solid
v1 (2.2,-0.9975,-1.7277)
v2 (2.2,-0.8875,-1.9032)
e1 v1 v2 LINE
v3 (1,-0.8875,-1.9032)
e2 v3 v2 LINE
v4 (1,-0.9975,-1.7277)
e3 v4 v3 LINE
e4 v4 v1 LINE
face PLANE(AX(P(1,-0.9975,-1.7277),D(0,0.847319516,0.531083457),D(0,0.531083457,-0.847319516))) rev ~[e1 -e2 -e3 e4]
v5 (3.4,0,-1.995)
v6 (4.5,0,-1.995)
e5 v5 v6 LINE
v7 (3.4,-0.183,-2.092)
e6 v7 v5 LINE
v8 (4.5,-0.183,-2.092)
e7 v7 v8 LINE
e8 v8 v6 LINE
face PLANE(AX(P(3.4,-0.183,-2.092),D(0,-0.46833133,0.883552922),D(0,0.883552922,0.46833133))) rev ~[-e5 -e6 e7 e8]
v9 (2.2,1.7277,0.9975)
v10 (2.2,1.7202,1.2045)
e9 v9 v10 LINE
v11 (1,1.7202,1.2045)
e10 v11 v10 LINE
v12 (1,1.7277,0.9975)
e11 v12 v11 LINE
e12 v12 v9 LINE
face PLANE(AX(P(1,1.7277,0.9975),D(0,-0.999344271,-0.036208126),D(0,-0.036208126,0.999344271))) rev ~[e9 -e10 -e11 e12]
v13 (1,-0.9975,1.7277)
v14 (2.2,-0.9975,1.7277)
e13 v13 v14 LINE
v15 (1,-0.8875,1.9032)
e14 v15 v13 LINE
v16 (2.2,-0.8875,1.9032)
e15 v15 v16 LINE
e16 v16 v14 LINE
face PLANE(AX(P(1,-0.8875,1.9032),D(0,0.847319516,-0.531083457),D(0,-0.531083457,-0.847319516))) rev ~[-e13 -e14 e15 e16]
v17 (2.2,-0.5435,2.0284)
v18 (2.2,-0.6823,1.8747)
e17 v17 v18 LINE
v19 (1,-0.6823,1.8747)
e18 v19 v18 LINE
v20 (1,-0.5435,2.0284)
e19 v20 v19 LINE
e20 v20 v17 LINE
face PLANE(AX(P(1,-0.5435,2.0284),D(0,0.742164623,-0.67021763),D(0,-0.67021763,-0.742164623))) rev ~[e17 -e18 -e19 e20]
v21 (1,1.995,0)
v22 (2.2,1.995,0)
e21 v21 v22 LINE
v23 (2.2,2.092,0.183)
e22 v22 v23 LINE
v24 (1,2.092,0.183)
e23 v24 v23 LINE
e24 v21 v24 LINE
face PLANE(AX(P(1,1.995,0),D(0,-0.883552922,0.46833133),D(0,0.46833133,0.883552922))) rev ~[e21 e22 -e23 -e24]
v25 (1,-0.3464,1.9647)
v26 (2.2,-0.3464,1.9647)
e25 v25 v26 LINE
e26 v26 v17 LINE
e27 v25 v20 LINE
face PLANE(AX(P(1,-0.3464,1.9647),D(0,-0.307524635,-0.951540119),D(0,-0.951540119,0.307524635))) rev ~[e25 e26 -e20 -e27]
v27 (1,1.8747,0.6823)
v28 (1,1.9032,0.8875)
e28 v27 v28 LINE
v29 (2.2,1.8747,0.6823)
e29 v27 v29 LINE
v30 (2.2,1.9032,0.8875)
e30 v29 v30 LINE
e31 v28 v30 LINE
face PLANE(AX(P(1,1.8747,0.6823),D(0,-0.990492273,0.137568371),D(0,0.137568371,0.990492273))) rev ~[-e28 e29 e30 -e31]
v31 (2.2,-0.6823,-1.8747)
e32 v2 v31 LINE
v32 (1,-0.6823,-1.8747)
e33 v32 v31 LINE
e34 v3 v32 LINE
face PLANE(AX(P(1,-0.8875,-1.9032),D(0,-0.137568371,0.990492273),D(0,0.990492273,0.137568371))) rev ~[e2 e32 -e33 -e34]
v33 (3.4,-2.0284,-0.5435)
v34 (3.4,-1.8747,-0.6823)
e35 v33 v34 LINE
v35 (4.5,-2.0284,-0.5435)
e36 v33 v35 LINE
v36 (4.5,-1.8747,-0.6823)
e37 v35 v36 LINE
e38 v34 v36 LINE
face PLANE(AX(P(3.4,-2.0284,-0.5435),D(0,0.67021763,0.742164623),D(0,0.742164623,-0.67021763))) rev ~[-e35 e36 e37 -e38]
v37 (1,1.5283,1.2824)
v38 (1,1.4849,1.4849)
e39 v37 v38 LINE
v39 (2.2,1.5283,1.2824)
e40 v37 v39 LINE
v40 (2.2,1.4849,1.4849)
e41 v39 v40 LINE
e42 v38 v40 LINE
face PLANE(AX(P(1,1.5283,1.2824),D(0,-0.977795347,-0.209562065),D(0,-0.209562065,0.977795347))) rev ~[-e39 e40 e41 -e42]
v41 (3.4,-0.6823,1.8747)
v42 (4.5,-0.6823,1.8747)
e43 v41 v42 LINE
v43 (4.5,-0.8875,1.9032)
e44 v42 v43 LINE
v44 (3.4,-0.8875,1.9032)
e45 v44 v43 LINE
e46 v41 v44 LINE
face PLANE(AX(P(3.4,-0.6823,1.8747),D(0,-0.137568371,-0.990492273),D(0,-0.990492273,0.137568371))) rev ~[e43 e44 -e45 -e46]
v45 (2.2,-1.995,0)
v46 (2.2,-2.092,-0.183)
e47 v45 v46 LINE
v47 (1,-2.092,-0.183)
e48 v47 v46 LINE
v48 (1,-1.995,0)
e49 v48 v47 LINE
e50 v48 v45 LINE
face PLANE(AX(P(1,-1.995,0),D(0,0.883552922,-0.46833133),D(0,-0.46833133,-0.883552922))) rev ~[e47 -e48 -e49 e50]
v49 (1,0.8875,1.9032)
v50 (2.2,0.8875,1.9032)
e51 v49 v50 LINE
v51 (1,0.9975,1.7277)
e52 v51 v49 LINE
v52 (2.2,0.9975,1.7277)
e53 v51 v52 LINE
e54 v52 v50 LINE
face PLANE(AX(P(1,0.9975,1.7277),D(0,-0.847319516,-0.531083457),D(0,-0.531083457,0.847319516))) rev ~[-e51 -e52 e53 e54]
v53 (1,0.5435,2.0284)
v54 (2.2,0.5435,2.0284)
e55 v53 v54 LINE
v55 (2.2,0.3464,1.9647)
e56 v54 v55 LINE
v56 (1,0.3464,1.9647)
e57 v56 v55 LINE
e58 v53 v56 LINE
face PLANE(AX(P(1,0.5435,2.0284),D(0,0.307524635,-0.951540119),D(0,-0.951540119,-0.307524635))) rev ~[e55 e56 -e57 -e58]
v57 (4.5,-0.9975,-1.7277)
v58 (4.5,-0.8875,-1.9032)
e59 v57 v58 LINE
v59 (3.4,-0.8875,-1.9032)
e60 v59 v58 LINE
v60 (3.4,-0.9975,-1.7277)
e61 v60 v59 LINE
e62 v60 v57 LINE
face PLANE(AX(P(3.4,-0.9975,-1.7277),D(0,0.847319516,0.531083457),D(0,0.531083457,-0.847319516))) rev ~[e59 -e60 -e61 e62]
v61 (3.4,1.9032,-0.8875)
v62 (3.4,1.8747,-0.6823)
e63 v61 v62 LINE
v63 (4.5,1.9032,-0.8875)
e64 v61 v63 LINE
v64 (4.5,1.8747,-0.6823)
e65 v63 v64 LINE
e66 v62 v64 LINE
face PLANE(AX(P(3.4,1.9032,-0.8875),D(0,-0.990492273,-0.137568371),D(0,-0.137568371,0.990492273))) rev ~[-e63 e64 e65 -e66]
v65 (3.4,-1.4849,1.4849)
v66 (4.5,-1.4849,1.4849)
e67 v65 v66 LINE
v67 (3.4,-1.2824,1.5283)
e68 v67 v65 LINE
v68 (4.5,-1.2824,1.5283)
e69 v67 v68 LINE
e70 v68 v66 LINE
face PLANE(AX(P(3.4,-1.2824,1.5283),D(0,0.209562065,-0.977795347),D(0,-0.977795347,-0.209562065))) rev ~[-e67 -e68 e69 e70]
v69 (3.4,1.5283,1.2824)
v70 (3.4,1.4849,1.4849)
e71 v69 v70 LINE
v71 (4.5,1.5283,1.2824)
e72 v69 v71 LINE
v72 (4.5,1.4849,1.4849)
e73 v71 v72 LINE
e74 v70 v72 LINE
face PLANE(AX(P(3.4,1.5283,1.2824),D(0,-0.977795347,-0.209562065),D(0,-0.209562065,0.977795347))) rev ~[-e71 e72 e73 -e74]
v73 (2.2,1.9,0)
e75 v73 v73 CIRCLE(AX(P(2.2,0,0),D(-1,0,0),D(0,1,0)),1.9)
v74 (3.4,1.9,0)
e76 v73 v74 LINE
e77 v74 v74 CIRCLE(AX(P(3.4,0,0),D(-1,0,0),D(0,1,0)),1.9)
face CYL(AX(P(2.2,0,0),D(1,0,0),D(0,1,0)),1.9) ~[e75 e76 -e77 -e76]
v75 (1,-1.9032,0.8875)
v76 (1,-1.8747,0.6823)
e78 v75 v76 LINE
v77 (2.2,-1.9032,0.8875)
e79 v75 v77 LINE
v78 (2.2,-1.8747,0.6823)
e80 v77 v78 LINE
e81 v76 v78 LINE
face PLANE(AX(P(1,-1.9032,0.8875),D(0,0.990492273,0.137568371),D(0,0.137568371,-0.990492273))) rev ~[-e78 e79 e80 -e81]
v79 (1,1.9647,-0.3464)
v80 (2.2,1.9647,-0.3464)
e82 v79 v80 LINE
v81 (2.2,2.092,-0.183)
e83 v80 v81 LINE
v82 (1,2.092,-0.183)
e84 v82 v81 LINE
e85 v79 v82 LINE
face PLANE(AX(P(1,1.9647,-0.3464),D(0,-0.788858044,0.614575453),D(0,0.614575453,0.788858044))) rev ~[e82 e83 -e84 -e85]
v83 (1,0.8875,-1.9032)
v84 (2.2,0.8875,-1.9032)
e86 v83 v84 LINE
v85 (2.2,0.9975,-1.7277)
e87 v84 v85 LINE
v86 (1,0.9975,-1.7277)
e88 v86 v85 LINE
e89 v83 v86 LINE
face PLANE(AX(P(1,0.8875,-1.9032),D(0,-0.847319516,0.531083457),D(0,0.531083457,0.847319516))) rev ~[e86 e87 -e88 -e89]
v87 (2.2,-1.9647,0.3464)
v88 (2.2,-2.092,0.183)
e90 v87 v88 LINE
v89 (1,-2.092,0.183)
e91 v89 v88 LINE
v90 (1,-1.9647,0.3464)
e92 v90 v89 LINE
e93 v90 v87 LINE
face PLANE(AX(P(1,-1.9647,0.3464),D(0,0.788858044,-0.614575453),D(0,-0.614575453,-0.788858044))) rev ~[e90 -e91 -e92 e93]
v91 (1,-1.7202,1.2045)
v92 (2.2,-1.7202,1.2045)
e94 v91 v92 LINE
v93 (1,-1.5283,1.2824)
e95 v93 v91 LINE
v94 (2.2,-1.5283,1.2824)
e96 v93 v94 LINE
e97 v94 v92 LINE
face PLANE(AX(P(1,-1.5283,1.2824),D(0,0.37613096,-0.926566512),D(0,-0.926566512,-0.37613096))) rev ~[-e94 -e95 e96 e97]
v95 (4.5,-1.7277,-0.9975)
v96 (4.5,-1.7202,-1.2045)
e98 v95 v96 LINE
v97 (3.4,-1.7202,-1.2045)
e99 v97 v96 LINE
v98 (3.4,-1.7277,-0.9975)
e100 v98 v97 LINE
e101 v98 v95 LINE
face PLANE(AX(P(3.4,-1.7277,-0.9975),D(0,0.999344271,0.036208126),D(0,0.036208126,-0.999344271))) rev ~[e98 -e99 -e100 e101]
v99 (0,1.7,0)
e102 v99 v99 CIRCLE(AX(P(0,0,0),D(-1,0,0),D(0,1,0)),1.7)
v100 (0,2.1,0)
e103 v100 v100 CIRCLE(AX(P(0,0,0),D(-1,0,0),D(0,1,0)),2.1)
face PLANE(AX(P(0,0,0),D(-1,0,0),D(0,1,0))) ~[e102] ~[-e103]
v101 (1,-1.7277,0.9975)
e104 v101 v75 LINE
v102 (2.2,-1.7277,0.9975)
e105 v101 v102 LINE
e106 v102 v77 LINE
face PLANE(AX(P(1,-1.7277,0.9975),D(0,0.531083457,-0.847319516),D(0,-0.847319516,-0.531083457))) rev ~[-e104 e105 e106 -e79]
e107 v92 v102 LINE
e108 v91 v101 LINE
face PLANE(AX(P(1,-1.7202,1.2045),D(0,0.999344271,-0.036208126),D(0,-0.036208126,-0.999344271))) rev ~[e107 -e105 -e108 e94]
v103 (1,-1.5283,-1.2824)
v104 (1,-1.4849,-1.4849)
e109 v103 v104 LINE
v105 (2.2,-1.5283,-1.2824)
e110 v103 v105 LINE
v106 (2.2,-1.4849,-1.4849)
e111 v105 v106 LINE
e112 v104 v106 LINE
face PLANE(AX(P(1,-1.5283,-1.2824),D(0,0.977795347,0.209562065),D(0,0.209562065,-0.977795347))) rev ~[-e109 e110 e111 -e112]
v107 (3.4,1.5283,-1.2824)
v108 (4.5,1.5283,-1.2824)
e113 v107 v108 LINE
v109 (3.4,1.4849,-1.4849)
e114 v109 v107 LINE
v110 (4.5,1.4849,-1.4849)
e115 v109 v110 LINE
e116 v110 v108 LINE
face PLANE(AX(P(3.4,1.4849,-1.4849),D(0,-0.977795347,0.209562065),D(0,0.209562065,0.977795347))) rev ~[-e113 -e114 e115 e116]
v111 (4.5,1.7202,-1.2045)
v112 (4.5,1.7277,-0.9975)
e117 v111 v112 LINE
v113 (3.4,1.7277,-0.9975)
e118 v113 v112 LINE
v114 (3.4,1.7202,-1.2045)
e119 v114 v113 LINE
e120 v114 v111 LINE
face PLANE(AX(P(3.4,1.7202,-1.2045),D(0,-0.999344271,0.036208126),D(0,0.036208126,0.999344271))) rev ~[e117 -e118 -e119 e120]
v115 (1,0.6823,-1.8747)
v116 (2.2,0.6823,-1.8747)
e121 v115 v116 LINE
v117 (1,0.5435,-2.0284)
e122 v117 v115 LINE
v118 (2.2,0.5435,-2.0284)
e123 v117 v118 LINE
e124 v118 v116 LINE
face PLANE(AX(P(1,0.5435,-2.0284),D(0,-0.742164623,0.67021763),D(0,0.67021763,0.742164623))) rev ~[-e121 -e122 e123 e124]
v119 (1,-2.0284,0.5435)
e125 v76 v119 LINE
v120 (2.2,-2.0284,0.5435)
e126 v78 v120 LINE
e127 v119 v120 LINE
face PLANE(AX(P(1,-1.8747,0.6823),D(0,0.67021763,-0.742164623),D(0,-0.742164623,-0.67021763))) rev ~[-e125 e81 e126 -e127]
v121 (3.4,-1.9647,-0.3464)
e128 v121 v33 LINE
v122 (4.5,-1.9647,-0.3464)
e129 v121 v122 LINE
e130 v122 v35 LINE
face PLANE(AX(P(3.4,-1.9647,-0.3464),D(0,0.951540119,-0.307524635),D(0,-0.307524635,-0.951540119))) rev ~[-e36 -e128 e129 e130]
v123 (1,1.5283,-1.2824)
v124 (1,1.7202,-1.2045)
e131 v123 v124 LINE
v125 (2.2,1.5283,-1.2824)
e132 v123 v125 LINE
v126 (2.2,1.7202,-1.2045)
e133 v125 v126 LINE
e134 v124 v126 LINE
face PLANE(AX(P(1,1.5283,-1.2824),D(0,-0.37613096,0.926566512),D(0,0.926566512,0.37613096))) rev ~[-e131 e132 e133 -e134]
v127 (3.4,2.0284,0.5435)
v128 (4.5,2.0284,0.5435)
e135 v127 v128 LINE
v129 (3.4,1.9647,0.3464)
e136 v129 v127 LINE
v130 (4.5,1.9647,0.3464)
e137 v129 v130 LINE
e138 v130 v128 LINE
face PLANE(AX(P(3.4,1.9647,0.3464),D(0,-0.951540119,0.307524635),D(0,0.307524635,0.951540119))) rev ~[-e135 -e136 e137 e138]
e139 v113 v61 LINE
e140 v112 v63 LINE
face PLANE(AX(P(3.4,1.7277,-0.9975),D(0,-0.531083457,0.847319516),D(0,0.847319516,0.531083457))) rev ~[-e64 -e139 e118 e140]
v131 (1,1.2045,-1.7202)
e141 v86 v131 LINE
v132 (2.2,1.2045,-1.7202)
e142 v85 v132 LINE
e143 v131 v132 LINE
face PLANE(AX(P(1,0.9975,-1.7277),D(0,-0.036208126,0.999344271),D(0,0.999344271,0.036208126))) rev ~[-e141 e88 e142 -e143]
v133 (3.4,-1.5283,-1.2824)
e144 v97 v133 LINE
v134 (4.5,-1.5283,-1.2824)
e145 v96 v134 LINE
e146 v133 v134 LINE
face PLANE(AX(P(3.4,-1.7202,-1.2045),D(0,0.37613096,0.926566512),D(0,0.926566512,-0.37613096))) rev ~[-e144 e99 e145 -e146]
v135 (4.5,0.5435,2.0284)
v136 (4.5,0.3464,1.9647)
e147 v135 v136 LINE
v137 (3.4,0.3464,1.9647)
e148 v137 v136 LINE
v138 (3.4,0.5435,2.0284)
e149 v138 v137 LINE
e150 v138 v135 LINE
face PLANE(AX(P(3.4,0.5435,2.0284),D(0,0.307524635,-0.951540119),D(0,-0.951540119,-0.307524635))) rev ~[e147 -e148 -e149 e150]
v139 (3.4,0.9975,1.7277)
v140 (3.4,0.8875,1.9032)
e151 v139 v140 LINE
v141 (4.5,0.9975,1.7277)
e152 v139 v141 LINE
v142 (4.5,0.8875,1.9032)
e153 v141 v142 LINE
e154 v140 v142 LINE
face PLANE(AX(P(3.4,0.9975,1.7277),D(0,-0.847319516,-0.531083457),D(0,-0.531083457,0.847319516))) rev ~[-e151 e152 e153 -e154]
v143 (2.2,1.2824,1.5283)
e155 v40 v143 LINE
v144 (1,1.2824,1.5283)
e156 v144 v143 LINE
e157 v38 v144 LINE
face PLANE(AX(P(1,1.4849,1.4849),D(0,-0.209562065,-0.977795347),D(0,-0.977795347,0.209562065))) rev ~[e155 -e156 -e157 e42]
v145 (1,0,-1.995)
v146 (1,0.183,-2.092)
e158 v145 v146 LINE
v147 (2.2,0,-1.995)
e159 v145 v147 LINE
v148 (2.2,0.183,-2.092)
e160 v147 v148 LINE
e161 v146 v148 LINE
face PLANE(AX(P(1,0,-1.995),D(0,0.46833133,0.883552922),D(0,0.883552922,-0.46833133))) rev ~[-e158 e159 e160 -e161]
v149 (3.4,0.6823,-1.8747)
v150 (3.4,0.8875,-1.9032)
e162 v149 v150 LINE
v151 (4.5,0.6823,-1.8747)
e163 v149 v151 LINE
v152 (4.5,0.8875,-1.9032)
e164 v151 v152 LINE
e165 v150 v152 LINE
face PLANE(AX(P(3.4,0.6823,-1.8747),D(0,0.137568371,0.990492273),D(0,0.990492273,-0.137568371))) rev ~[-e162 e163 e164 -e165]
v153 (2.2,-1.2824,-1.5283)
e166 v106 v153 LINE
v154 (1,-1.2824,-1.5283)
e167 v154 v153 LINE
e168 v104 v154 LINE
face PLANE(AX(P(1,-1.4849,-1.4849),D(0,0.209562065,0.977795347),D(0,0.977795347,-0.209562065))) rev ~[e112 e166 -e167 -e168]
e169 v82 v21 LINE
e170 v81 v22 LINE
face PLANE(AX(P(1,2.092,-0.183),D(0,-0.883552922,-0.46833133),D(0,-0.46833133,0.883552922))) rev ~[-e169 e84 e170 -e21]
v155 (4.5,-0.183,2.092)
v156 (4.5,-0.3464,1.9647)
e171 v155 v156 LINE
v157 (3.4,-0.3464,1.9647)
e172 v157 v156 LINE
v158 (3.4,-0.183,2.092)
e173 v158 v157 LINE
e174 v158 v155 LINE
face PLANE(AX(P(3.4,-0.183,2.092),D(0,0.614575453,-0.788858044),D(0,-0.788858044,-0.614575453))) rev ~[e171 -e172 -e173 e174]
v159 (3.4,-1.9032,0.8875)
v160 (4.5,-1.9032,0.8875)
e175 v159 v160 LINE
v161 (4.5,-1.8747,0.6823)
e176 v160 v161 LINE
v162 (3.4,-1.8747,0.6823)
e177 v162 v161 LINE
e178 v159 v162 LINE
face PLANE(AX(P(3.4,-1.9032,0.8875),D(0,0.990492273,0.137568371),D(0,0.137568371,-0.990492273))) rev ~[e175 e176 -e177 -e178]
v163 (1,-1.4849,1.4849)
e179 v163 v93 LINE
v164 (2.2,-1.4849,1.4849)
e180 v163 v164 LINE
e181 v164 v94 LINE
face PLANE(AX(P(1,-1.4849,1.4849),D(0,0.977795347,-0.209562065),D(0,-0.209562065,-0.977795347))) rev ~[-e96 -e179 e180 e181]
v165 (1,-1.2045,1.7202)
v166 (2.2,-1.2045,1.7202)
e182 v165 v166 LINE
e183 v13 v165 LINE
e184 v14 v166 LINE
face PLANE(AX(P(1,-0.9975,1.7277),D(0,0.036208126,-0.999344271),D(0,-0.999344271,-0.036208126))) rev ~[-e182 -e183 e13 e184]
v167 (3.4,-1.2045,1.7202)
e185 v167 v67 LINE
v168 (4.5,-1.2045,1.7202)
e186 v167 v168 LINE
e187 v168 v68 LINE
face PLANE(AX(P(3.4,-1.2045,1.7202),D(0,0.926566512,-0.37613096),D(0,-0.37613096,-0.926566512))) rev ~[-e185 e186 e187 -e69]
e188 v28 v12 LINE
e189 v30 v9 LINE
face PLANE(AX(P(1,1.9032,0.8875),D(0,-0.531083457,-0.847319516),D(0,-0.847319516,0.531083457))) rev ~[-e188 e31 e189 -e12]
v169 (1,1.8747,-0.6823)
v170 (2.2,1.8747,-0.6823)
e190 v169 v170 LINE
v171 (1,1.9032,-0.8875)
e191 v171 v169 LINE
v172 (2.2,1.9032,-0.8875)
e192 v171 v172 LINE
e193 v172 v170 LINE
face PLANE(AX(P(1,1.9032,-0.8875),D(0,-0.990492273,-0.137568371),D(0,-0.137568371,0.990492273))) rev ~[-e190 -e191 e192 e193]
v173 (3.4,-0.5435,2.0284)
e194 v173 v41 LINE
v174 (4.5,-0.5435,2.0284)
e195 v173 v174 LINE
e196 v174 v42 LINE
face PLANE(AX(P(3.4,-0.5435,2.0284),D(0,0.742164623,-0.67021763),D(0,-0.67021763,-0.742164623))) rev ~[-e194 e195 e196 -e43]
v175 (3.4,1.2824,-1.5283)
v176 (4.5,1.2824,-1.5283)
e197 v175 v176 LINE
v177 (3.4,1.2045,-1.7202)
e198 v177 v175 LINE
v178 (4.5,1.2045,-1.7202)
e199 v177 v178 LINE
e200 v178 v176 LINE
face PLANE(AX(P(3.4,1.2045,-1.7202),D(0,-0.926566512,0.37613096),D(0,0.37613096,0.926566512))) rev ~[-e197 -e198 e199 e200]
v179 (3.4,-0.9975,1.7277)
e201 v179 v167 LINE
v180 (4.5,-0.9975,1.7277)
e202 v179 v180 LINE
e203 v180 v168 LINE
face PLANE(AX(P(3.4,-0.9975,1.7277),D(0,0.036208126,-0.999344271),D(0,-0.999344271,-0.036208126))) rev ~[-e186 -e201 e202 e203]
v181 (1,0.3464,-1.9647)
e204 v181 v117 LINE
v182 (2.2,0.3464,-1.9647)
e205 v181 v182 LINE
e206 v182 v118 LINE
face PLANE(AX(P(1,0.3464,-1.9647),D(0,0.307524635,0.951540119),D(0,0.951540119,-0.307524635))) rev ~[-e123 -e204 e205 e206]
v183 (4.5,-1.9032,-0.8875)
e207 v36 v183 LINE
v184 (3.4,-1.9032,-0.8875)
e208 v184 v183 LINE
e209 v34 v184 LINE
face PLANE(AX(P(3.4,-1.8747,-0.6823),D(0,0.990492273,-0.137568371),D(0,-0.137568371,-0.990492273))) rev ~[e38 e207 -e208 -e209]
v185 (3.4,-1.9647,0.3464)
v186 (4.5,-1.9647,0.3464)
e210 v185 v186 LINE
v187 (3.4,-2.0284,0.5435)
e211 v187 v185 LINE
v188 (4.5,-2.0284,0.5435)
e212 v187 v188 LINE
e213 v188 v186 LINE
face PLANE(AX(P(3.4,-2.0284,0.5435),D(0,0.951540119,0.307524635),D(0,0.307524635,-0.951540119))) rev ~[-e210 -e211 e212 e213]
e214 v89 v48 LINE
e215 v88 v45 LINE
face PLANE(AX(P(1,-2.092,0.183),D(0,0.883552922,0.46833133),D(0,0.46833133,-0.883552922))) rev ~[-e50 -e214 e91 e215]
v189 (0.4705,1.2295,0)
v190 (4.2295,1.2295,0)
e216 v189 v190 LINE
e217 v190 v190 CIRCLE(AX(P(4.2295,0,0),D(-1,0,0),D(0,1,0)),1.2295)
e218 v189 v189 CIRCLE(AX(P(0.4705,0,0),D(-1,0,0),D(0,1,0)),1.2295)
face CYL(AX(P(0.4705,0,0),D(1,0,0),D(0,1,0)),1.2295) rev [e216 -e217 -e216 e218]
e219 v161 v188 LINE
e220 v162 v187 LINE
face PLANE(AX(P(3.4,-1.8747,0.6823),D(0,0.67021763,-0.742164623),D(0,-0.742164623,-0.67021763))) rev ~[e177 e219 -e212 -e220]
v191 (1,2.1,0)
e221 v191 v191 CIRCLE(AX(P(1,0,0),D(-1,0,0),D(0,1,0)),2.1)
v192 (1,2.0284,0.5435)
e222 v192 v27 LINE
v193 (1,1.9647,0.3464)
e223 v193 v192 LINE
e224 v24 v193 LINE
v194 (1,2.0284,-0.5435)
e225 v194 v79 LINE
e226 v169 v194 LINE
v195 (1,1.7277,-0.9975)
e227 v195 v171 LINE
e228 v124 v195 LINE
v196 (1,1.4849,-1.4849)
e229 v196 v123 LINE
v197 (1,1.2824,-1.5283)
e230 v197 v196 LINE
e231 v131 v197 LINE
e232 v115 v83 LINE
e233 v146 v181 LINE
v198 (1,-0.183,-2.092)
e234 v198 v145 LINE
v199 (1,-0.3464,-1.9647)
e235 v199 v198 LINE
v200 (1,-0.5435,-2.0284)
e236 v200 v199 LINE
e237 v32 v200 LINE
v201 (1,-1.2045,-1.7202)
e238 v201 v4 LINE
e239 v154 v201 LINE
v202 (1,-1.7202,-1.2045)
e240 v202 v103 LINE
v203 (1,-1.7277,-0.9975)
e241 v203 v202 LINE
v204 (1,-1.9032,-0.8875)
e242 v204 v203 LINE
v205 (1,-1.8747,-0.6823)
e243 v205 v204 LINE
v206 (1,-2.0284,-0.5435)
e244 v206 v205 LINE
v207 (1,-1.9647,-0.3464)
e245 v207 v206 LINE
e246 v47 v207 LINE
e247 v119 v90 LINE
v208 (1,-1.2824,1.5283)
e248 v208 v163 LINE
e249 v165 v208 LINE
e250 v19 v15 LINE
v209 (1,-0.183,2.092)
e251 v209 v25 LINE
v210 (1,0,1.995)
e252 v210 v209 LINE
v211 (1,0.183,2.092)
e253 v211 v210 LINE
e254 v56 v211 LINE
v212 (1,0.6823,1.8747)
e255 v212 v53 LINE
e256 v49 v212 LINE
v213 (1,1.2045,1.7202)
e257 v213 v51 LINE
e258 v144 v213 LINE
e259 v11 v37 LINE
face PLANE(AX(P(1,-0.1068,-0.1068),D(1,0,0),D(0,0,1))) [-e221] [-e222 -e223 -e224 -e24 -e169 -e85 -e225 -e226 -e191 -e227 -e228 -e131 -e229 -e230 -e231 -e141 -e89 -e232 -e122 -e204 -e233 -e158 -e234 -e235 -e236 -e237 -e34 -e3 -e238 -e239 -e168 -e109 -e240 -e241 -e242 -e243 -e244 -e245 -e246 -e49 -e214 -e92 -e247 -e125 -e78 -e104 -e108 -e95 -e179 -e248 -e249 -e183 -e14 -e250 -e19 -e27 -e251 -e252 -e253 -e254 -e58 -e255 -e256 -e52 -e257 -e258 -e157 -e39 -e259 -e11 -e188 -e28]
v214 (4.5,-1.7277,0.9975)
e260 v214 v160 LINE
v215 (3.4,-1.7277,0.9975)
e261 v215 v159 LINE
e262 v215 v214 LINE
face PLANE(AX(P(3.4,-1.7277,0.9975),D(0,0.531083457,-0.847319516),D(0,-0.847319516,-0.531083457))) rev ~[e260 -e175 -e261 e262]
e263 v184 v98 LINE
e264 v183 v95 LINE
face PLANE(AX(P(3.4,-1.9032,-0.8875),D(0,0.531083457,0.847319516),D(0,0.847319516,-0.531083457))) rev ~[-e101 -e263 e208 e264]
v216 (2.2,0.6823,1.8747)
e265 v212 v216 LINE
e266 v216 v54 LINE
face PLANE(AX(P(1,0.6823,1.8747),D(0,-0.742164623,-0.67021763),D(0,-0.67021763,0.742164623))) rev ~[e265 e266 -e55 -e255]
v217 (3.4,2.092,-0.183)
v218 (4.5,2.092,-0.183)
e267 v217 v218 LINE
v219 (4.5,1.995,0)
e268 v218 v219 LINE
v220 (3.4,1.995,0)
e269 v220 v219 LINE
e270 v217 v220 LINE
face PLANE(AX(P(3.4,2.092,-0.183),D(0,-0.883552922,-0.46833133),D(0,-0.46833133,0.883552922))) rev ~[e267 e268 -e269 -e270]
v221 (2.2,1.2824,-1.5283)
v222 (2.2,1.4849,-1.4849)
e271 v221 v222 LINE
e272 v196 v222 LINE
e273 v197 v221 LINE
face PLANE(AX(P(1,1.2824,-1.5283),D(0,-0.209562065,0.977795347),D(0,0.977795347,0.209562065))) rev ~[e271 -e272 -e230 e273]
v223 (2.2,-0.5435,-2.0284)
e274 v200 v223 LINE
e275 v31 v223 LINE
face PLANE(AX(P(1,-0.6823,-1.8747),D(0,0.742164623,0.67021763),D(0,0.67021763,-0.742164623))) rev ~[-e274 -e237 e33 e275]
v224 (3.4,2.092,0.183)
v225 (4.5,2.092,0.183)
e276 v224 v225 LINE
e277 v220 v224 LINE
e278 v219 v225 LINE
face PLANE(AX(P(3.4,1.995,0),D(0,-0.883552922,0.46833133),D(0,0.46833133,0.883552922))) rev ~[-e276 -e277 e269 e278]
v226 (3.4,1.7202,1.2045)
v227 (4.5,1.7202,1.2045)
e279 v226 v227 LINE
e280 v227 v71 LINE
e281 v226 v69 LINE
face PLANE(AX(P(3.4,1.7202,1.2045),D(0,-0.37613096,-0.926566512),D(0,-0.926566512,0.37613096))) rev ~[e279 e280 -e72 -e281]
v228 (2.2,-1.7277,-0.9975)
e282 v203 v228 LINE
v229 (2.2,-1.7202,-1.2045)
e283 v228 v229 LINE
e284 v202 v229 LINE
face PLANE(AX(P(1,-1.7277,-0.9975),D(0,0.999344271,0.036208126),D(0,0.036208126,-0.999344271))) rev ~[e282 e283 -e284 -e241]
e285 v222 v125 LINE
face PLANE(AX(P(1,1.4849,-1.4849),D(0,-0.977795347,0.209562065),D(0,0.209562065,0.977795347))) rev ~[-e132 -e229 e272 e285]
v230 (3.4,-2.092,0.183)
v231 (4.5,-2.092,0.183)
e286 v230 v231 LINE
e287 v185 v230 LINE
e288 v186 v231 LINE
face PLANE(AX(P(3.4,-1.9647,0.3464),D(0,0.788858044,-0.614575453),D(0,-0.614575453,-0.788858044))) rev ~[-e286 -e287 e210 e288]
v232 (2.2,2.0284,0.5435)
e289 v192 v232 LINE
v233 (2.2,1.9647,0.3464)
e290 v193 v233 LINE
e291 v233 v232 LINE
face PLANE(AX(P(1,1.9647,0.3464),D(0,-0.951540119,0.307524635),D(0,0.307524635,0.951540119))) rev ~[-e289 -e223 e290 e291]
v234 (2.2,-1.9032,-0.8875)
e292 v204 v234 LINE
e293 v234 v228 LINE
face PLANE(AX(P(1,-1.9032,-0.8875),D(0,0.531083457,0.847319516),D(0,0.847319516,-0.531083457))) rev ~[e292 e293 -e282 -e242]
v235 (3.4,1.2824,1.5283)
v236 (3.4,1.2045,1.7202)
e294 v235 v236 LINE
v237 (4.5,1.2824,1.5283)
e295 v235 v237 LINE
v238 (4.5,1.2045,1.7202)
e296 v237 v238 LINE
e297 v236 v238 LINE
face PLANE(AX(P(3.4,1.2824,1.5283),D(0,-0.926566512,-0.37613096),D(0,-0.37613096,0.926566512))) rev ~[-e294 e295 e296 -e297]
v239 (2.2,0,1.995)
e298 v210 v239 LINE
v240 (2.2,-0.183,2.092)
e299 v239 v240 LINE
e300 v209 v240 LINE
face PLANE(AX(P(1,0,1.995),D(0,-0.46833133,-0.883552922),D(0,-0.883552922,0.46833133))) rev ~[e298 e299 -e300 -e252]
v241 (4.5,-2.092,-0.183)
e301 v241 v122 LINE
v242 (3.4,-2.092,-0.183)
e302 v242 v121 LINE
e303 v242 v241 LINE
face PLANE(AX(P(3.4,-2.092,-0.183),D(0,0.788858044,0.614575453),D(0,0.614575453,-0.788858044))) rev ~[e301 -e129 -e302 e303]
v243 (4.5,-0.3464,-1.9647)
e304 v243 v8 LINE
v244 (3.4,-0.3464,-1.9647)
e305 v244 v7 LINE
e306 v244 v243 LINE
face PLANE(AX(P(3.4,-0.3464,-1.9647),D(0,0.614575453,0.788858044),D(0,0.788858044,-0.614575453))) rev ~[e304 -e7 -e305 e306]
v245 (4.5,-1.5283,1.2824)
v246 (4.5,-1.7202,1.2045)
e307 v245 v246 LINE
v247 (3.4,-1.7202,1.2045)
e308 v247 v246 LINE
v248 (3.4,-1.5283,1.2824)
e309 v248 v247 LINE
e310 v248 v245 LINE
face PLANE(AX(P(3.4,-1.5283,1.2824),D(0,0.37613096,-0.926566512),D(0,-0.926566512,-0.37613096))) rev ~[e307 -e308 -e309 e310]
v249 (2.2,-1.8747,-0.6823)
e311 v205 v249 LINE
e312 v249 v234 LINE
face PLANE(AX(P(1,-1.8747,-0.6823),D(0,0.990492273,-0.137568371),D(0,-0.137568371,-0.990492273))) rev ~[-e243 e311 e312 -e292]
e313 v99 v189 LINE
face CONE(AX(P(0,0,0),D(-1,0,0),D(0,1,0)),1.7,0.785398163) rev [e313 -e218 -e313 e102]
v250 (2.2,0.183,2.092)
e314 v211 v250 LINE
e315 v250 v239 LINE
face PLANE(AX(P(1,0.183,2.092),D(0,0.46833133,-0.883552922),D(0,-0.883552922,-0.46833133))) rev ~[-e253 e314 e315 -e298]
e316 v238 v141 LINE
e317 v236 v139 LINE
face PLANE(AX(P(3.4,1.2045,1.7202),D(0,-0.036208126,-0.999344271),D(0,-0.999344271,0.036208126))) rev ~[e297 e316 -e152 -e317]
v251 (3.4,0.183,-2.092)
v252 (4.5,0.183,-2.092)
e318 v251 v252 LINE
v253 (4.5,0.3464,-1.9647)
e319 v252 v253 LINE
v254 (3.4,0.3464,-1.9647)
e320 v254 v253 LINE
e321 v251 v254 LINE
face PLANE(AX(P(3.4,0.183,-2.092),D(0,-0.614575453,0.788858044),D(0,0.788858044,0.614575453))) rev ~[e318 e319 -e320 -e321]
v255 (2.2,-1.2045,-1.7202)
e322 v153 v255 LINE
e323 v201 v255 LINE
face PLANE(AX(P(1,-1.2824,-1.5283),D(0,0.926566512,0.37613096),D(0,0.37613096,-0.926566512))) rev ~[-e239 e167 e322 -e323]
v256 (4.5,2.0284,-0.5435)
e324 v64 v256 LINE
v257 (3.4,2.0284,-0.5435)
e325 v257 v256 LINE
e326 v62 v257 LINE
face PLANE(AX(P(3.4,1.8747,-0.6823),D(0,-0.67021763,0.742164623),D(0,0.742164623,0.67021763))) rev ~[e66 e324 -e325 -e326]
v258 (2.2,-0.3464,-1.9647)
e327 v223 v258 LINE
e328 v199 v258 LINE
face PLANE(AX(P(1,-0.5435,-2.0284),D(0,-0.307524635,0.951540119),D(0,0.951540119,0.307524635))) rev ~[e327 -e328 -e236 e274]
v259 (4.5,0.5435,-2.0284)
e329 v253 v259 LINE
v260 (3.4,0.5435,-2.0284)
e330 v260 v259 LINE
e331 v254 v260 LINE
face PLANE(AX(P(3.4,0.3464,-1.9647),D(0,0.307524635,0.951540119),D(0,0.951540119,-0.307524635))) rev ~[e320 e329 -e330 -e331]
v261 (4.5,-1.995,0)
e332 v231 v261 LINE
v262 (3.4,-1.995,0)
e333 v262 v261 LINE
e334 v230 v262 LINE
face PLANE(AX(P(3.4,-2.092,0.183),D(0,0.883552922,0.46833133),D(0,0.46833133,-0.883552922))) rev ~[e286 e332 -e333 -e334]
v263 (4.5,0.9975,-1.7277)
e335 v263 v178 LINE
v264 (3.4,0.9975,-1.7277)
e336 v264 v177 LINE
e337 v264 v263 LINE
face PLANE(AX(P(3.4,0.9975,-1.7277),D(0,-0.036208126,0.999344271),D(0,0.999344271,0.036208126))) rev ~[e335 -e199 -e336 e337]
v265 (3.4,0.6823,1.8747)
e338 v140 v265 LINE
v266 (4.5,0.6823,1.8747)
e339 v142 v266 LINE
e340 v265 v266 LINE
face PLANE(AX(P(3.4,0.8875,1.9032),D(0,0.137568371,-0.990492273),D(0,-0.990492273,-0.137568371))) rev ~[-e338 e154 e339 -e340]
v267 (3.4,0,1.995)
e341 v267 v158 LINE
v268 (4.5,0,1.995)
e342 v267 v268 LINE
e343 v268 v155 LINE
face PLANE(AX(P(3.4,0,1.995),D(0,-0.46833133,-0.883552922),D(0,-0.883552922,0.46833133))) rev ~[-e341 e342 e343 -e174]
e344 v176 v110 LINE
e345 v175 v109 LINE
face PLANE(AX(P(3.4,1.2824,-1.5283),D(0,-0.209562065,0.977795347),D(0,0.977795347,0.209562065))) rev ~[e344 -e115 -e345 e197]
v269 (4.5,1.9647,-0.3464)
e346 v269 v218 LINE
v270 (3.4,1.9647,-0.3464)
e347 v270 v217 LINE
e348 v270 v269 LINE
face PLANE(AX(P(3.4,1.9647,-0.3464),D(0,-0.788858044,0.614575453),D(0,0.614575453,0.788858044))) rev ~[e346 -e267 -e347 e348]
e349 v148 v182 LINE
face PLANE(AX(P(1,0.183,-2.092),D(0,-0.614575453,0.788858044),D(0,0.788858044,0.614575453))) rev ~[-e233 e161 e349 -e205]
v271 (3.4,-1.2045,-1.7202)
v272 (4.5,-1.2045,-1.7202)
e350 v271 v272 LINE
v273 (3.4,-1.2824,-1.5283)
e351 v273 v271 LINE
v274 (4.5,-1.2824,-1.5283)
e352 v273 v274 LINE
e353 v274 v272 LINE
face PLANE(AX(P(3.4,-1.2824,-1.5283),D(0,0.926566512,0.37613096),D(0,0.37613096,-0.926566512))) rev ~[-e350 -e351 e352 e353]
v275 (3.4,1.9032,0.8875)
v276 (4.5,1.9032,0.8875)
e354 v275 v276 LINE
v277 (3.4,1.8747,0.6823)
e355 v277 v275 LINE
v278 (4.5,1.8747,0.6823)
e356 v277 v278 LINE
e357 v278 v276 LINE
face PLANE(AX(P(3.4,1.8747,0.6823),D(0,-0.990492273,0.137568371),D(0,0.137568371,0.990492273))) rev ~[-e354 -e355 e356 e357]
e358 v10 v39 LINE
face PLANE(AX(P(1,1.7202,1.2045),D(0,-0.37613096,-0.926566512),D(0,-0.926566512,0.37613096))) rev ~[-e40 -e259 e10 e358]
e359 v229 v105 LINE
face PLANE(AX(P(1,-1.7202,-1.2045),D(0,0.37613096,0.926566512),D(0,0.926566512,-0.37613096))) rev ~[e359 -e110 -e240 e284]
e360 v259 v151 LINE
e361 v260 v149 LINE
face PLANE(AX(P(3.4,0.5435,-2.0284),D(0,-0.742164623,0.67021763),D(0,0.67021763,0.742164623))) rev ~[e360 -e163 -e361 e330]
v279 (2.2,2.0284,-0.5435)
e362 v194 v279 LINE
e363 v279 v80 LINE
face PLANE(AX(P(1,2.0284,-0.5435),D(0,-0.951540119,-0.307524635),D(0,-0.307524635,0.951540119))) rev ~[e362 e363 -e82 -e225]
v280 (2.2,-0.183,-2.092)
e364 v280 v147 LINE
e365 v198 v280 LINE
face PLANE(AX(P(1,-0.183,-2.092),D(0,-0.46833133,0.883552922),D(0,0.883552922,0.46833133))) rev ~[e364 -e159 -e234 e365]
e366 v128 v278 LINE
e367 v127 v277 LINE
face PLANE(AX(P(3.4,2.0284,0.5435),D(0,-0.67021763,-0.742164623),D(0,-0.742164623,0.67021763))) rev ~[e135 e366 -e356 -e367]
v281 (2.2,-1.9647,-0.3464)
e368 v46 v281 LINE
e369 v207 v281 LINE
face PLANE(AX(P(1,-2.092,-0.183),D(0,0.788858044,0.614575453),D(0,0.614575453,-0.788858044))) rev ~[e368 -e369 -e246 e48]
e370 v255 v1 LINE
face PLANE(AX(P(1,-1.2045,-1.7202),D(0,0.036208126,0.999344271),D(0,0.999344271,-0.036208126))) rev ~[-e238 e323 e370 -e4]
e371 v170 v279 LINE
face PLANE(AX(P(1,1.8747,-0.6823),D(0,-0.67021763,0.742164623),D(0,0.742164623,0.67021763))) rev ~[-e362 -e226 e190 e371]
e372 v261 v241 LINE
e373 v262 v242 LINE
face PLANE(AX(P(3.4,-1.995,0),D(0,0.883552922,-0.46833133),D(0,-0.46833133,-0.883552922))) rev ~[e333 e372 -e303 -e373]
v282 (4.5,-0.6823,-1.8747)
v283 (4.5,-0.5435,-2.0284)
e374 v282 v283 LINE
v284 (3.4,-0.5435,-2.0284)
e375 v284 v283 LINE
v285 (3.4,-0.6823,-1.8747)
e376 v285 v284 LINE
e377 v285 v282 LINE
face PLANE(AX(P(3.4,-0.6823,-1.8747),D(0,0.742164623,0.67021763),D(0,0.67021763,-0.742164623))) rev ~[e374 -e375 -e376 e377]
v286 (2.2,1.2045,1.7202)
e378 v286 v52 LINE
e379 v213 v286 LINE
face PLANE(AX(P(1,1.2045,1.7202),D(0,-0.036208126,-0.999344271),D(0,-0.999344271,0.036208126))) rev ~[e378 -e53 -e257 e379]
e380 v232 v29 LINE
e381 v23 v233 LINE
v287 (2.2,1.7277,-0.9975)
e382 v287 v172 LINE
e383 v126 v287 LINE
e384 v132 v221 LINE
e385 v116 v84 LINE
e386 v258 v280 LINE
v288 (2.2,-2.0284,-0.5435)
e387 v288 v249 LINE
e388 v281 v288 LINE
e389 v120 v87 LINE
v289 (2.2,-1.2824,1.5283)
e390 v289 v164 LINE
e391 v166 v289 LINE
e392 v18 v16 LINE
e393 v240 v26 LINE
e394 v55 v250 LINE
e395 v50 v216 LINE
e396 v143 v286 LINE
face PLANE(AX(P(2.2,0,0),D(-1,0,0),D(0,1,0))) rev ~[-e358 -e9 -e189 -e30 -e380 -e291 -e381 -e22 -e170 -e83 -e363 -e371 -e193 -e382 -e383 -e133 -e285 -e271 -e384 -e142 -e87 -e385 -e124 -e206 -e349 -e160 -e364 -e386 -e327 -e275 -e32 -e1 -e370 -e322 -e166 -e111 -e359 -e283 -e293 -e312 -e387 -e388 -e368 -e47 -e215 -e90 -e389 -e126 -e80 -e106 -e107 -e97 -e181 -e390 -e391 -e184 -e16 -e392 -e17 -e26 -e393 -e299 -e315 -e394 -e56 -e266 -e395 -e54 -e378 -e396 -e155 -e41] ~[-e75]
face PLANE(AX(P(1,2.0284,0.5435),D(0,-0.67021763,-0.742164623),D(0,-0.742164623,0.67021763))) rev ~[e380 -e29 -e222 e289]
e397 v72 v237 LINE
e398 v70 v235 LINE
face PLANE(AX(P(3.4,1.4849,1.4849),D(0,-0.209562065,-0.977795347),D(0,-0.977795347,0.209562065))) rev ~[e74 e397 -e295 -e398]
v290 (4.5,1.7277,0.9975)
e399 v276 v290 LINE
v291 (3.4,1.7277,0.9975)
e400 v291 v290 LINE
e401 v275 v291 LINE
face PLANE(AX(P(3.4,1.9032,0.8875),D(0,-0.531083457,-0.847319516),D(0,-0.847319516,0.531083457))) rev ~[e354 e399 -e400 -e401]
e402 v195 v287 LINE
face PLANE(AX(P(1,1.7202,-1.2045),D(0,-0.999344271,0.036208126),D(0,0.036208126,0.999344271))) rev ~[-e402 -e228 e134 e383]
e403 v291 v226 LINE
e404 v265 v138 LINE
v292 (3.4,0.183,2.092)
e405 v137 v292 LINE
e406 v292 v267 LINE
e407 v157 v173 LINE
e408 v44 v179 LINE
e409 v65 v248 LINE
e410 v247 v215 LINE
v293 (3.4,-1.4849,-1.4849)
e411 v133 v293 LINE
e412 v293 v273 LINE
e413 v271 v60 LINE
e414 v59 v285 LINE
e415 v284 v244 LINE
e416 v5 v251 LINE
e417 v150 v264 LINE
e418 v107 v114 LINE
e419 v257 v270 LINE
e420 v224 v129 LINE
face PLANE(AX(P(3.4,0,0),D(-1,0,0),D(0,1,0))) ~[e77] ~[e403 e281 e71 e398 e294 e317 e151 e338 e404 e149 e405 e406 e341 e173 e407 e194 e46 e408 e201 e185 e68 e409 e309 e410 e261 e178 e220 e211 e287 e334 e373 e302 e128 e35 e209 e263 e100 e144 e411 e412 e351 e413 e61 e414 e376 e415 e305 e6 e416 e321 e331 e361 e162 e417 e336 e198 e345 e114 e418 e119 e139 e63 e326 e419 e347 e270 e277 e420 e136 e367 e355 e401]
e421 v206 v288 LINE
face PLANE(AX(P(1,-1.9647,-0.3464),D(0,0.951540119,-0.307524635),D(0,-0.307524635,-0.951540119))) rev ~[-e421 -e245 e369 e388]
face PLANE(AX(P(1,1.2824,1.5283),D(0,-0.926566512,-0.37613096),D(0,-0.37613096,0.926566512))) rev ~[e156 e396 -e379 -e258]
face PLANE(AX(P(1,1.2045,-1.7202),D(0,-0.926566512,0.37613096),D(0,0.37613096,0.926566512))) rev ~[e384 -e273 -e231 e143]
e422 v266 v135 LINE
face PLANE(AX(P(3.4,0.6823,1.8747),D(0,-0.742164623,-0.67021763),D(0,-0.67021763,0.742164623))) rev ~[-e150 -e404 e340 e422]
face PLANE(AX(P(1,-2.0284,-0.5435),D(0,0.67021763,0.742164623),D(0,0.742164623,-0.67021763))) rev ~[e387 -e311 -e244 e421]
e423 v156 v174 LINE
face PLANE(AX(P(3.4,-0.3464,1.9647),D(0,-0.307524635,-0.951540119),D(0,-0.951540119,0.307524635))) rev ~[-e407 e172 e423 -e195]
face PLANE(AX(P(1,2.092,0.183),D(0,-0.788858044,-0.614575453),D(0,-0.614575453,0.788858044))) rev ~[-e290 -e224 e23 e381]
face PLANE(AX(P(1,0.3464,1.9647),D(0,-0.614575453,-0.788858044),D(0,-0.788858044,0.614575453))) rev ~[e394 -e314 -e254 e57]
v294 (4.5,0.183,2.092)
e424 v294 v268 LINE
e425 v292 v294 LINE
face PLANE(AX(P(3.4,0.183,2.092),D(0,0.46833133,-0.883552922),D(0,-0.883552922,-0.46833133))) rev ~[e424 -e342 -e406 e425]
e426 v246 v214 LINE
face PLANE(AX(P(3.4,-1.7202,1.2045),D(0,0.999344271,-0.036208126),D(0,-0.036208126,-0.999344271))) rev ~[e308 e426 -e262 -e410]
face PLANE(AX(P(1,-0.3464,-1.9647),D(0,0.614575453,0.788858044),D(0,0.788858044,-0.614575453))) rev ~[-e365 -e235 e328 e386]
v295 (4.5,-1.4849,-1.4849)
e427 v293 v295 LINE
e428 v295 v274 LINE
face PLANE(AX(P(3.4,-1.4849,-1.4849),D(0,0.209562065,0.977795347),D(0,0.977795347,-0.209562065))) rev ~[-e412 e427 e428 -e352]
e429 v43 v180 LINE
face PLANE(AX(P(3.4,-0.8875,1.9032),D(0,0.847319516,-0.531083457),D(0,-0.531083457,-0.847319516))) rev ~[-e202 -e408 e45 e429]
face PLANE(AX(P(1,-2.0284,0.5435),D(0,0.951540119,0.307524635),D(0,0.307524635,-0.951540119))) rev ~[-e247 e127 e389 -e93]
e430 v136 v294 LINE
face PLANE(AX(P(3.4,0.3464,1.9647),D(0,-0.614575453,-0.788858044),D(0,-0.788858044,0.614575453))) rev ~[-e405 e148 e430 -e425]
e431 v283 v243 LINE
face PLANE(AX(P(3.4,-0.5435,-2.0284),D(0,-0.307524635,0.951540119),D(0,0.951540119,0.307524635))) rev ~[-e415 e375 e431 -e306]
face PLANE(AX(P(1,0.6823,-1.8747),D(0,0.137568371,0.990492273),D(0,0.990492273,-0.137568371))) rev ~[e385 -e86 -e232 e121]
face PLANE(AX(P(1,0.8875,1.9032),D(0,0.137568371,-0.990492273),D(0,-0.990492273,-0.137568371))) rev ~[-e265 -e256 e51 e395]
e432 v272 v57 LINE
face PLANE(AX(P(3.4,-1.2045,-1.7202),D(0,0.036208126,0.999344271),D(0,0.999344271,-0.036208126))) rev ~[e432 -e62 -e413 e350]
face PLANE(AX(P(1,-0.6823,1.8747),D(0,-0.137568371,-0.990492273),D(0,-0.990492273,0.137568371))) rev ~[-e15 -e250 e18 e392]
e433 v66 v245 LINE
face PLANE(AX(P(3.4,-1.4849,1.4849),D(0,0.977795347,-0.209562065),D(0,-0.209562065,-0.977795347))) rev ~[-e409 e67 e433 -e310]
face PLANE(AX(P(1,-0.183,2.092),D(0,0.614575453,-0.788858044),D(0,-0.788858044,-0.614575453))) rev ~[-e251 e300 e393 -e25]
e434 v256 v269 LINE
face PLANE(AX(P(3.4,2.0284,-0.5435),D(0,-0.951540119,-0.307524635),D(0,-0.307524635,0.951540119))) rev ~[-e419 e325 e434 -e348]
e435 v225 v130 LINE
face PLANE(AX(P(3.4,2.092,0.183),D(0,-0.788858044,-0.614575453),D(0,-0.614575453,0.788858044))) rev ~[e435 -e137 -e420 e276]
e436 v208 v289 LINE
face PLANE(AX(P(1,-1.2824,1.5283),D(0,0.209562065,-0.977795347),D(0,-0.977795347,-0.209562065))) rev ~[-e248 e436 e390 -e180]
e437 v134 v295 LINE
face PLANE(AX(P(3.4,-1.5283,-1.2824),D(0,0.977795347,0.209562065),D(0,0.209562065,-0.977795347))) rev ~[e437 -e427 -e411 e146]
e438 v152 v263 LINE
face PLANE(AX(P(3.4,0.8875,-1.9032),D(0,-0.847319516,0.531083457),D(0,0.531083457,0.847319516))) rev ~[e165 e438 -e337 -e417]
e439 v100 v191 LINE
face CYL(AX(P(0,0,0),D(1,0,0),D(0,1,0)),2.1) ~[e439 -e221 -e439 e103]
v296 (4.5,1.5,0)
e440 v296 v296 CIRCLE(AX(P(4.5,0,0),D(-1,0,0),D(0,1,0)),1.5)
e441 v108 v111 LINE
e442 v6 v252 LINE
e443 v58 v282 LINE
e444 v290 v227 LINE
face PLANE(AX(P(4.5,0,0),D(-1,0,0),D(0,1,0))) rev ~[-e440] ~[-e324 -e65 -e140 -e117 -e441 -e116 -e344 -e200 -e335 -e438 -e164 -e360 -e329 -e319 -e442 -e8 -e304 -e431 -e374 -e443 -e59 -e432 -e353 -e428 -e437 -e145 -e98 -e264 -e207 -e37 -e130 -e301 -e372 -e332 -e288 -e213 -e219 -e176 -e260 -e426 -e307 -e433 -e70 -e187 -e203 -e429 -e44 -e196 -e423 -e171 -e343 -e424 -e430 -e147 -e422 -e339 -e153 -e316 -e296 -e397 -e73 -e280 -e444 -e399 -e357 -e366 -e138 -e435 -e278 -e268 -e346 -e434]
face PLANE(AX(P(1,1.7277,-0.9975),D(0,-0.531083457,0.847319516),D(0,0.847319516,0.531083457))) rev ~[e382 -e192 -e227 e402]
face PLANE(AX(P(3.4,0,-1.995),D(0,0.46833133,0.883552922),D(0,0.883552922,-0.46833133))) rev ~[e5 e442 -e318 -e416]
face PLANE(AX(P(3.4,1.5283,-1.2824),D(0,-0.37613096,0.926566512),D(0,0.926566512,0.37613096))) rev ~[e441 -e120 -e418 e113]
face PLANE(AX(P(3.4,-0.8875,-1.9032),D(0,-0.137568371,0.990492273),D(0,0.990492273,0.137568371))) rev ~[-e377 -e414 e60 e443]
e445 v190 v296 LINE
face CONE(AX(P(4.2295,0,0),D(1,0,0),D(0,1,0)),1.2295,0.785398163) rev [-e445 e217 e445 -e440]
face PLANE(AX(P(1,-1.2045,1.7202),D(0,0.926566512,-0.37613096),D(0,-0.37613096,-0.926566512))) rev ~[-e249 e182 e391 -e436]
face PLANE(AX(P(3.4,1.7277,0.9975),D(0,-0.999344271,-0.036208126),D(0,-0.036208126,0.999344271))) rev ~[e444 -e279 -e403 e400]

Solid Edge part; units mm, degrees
sketch "Sketch1" plane through (0, 0, 0) normal (0, 0, 1) x (1, 0, 0)
  line L0 (0, 0) -> (0, 2.1)
  line L1 (0, 2.1) -> (2.2, 2.1)
  line L2 (2.2, 2.1) -> (2.2, 1.9)
  line L3 (2.2, 1.9) -> (3.4, 1.9)
  line L4 (3.4, 1.9) -> (3.4, 2.1)
  line L5 (3.4, 2.1) -> (4.5, 2.1)
  line L6 (4.5, 2.1) -> (4.5, 0)
  line L7 (4.5, 0) -> (0, 0)
revolve "RevolvedProtrusion1" add sketch "Sketch1" angle 360 about axis through (4.5, 0, 0) along (-1, 0, 0)
sketch "Sketch2" plane through (0, 0, 0) normal (0, 0, 1) x (1, 0, 0)
  line L0 (0, 0) -> (0, 1.7)
  line L1 (0, 1.7) -> (0.4705, 1.2295)
  line L2 (0.4705, 1.2295) -> (4.2295, 1.2295)
  line L3 (4.2295, 1.2295) -> (4.5, 1.5)
  line L4 (4.5, 1.5) -> (4.5, 0)
  line L5 (4.5, 0) -> (0, 0)
revolve "RevolvedCutout1" cut sketch "Sketch2" angle 360 about axis through (4.5, 0, 0) along (-1, 0, 0)
cosmetic_thread "Thread1" size "M3"
sketch "Sketch3" plane through (1, 0, 0) normal (1, 0, 0) x (0, 1, 0)
  line L0 (2.0823, 0.71) -> (1.9647, 0.3464)
  line L1 (1.9647, 0.3464) -> (2.1995, 0.045)
  arc A0 (2.1995, 0.045) -> (2.0823, 0.71) centre (0, 0) ccw
extrude "ExtrudedCutout_1" cut sketch "Sketch3" along normal blind 1.2
sketch "Sketch4" plane through (1, 0, 0) normal (1, 0, 0) x (0, 1, 0)
  line L0 (-3.0542, 2.8406) -> (-3.0542, -3.0542)
  line L1 (-3.0542, -3.0542) -> (2.8406, -3.0542)
  line L2 (2.8406, -3.0542) -> (2.8406, 2.8406)
  line L3 (2.8406, 2.8406) -> (-3.0542, 2.8406)
  line L4 (-0.183, 2.092) -> (-0.3464, 1.9647)
  line L5 (-0.3464, 1.9647) -> (-0.5435, 2.0284)
  line L6 (-0.5435, 2.0284) -> (-0.6823, 1.8747)
  line L7 (-0.6823, 1.8747) -> (-0.8875, 1.9032)
  line L8 (-0.8875, 1.9032) -> (-0.9975, 1.7277)
  line L9 (-0.9975, 1.7277) -> (-1.2045, 1.7202)
  line L10 (-1.2045, 1.7202) -> (-1.2824, 1.5283)
  line L11 (-1.2824, 1.5283) -> (-1.4849, 1.4849)
  line L12 (-1.4849, 1.4849) -> (-1.5283, 1.2824)
  line L13 (-1.5283, 1.2824) -> (-1.7202, 1.2045)
  line L14 (-1.7202, 1.2045) -> (-1.7277, 0.9975)
  line L15 (-1.7277, 0.9975) -> (-1.9032, 0.8875)
  line L16 (-1.9032, 0.8875) -> (-1.8747, 0.6823)
  line L17 (-1.8747, 0.6823) -> (-2.0284, 0.5435)
  line L18 (-2.0284, 0.5435) -> (-1.9647, 0.3464)
  line L19 (-1.9647, 0.3464) -> (-2.092, 0.183)
  line L20 (-2.092, 0.183) -> (-1.995, 0)
  line L21 (-1.995, 0) -> (-2.092, -0.183)
  line L22 (-2.092, -0.183) -> (-1.9647, -0.3464)
  line L23 (-1.9647, -0.3464) -> (-2.0284, -0.5435)
  line L24 (-2.0284, -0.5435) -> (-1.8747, -0.6823)
  line L25 (-1.8747, -0.6823) -> (-1.9032, -0.8875)
  line L26 (-1.9032, -0.8875) -> (-1.7277, -0.9975)
  line L27 (-1.7277, -0.9975) -> (-1.7202, -1.2045)
  line L28 (-1.7202, -1.2045) -> (-1.5283, -1.2824)
  line L29 (-1.5283, -1.2824) -> (-1.4849, -1.4849)
  line L30 (-1.4849, -1.4849) -> (-1.2824, -1.5283)
  line L31 (-1.2824, -1.5283) -> (-1.2045, -1.7202)
  line L32 (-1.2045, -1.7202) -> (-0.9975, -1.7277)
  line L33 (-0.9975, -1.7277) -> (-0.8875, -1.9032)
  line L34 (-0.8875, -1.9032) -> (-0.6823, -1.8747)
  line L35 (-0.6823, -1.8747) -> (-0.5435, -2.0284)
  line L36 (-0.5435, -2.0284) -> (-0.3464, -1.9647)
  line L37 (-0.3464, -1.9647) -> (-0.183, -2.092)
  line L38 (-0.183, -2.092) -> (0, -1.995)
  line L39 (0, -1.995) -> (0.183, -2.092)
  line L40 (0.183, -2.092) -> (0.3464, -1.9647)
  line L41 (0.3464, -1.9647) -> (0.5435, -2.0284)
  line L42 (0.5435, -2.0284) -> (0.6823, -1.8747)
  line L43 (0.6823, -1.8747) -> (0.8875, -1.9032)
  line L44 (0.8875, -1.9032) -> (0.9975, -1.7277)
  line L45 (0.9975, -1.7277) -> (1.2045, -1.7202)
  line L46 (1.2045, -1.7202) -> (1.2824, -1.5283)
  line L47 (1.2824, -1.5283) -> (1.4849, -1.4849)
  line L48 (1.4849, -1.4849) -> (1.5283, -1.2824)
  line L49 (1.5283, -1.2824) -> (1.7202, -1.2045)
  line L50 (1.7202, -1.2045) -> (1.7277, -0.9975)
  line L51 (1.7277, -0.9975) -> (1.9032, -0.8875)
  line L52 (1.9032, -0.8875) -> (1.8747, -0.6823)
  line L53 (1.8747, -0.6823) -> (2.0284, -0.5435)
  line L54 (2.0284, -0.5435) -> (1.9647, -0.3464)
  line L55 (1.9647, -0.3464) -> (2.092, -0.183)
  line L56 (2.092, -0.183) -> (1.995, 0)
  line L57 (1.995, 0) -> (2.092, 0.183)
  line L58 (2.092, 0.183) -> (1.9647, 0.3464)
  line L59 (1.9647, 0.3464) -> (2.0284, 0.5435)
  line L60 (2.0284, 0.5435) -> (1.8747, 0.6823)
  line L61 (1.8747, 0.6823) -> (1.9032, 0.8875)
  line L62 (1.9032, 0.8875) -> (1.7277, 0.9975)
  line L63 (1.7277, 0.9975) -> (1.7202, 1.2045)
  line L64 (1.7202, 1.2045) -> (1.5283, 1.2824)
  line L65 (1.5283, 1.2824) -> (1.4849, 1.4849)
  line L66 (1.4849, 1.4849) -> (1.2824, 1.5283)
  line L67 (1.2824, 1.5283) -> (1.2045, 1.7202)
  line L68 (1.2045, 1.7202) -> (0.9975, 1.7277)
  line L69 (0.9975, 1.7277) -> (0.8875, 1.9032)
  line L70 (0.8875, 1.9032) -> (0.6823, 1.8747)
  line L71 (0.6823, 1.8747) -> (0.5435, 2.0284)
  line L72 (0.5435, 2.0284) -> (0.3464, 1.9647)
  line L73 (0.3464, 1.9647) -> (0.183, 2.092)
  line L74 (0.183, 2.092) -> (0, 1.995)
  line L75 (0, 1.995) -> (-0.183, 2.092)
extrude "ExtrudedCutout_2" cut sketch "Sketch4" along normal blind 1.2
sketch "Sketch5" plane through (3.4, 0, 0) normal (1, 0, 0) x (0, 1, 0)
  line L0 (2.0823, 0.71) -> (1.9647, 0.3464)
  line L1 (1.9647, 0.3464) -> (2.1995, 0.045)
  arc A0 (2.1995, 0.045) -> (2.0823, 0.71) centre (0, 0) ccw
extrude "ExtrudedCutout_3" cut sketch "Sketch5" along normal blind 2.4
sketch "Sketch6" plane through (3.4, 0, 0) normal (1, 0, 0) x (0, 1, 0)
  line L0 (-3.0542, 2.8406) -> (-3.0542, -3.0542)
  line L1 (-3.0542, -3.0542) -> (2.8406, -3.0542)
  line L2 (2.8406, -3.0542) -> (2.8406, 2.8406)
  line L3 (2.8406, 2.8406) -> (-3.0542, 2.8406)
  line L4 (-0.183, 2.092) -> (-0.3464, 1.9647)
  line L5 (-0.3464, 1.9647) -> (-0.5435, 2.0284)
  line L6 (-0.5435, 2.0284) -> (-0.6823, 1.8747)
  line L7 (-0.6823, 1.8747) -> (-0.8875, 1.9032)
  line L8 (-0.8875, 1.9032) -> (-0.9975, 1.7277)
  line L9 (-0.9975, 1.7277) -> (-1.2045, 1.7202)
  line L10 (-1.2045, 1.7202) -> (-1.2824, 1.5283)
  line L11 (-1.2824, 1.5283) -> (-1.4849, 1.4849)
  line L12 (-1.4849, 1.4849) -> (-1.5283, 1.2824)
  line L13 (-1.5283, 1.2824) -> (-1.7202, 1.2045)
  line L14 (-1.7202, 1.2045) -> (-1.7277, 0.9975)
  line L15 (-1.7277, 0.9975) -> (-1.9032, 0.8875)
  line L16 (-1.9032, 0.8875) -> (-1.8747, 0.6823)
  line L17 (-1.8747, 0.6823) -> (-2.0284, 0.5435)
  line L18 (-2.0284, 0.5435) -> (-1.9647, 0.3464)
  line L19 (-1.9647, 0.3464) -> (-2.092, 0.183)
  line L20 (-2.092, 0.183) -> (-1.995, 0)
  line L21 (-1.995, 0) -> (-2.092, -0.183)
  line L22 (-2.092, -0.183) -> (-1.9647, -0.3464)
  line L23 (-1.9647, -0.3464) -> (-2.0284, -0.5435)
  line L24 (-2.0284, -0.5435) -> (-1.8747, -0.6823)
  line L25 (-1.8747, -0.6823) -> (-1.9032, -0.8875)
  line L26 (-1.9032, -0.8875) -> (-1.7277, -0.9975)
  line L27 (-1.7277, -0.9975) -> (-1.7202, -1.2045)
  line L28 (-1.7202, -1.2045) -> (-1.5283, -1.2824)
  line L29 (-1.5283, -1.2824) -> (-1.4849, -1.4849)
  line L30 (-1.4849, -1.4849) -> (-1.2824, -1.5283)
  line L31 (-1.2824, -1.5283) -> (-1.2045, -1.7202)
  line L32 (-1.2045, -1.7202) -> (-0.9975, -1.7277)
  line L33 (-0.9975, -1.7277) -> (-0.8875, -1.9032)
  line L34 (-0.8875, -1.9032) -> (-0.6823, -1.8747)
  line L35 (-0.6823, -1.8747) -> (-0.5435, -2.0284)
  line L36 (-0.5435, -2.0284) -> (-0.3464, -1.9647)
  line L37 (-0.3464, -1.9647) -> (-0.183, -2.092)
  line L38 (-0.183, -2.092) -> (0, -1.995)
  line L39 (0, -1.995) -> (0.183, -2.092)
  line L40 (0.183, -2.092) -> (0.3464, -1.9647)
  line L41 (0.3464, -1.9647) -> (0.5435, -2.0284)
  line L42 (0.5435, -2.0284) -> (0.6823, -1.8747)
  line L43 (0.6823, -1.8747) -> (0.8875, -1.9032)
  line L44 (0.8875, -1.9032) -> (0.9975, -1.7277)
  line L45 (0.9975, -1.7277) -> (1.2045, -1.7202)
  line L46 (1.2045, -1.7202) -> (1.2824, -1.5283)
  line L47 (1.2824, -1.5283) -> (1.4849, -1.4849)
  line L48 (1.4849, -1.4849) -> (1.5283, -1.2824)
  line L49 (1.5283, -1.2824) -> (1.7202, -1.2045)
  line L50 (1.7202, -1.2045) -> (1.7277, -0.9975)
  line L51 (1.7277, -0.9975) -> (1.9032, -0.8875)
  line L52 (1.9032, -0.8875) -> (1.8747, -0.6823)
  line L53 (1.8747, -0.6823) -> (2.0284, -0.5435)
  line L54 (2.0284, -0.5435) -> (1.9647, -0.3464)
  line L55 (1.9647, -0.3464) -> (2.092, -0.183)
  line L56 (2.092, -0.183) -> (1.995, 0)
  line L57 (1.995, 0) -> (2.092, 0.183)
  line L58 (2.092, 0.183) -> (1.9647, 0.3464)
  line L59 (1.9647, 0.3464) -> (2.0284, 0.5435)
  line L60 (2.0284, 0.5435) -> (1.8747, 0.6823)
  line L61 (1.8747, 0.6823) -> (1.9032, 0.8875)
  line L62 (1.9032, 0.8875) -> (1.7277, 0.9975)
  line L63 (1.7277, 0.9975) -> (1.7202, 1.2045)
  line L64 (1.7202, 1.2045) -> (1.5283, 1.2824)
  line L65 (1.5283, 1.2824) -> (1.4849, 1.4849)
  line L66 (1.4849, 1.4849) -> (1.2824, 1.5283)
  line L67 (1.2824, 1.5283) -> (1.2045, 1.7202)
  line L68 (1.2045, 1.7202) -> (0.9975, 1.7277)
  line L69 (0.9975, 1.7277) -> (0.8875, 1.9032)
  line L70 (0.8875, 1.9032) -> (0.6823, 1.8747)
  line L71 (0.6823, 1.8747) -> (0.5435, 2.0284)
  line L72 (0.5435, 2.0284) -> (0.3464, 1.9647)
  line L73 (0.3464, 1.9647) -> (0.183, 2.092)
  line L74 (0.183, 2.092) -> (0, 1.995)
  line L75 (0, 1.995) -> (-0.183, 2.092)
extrude "ExtrudedCutout_4" cut sketch "Sketch6" along normal blind 2.4
properties part number "BN 1037 1385607 threaded insert for moulding D-M3"
